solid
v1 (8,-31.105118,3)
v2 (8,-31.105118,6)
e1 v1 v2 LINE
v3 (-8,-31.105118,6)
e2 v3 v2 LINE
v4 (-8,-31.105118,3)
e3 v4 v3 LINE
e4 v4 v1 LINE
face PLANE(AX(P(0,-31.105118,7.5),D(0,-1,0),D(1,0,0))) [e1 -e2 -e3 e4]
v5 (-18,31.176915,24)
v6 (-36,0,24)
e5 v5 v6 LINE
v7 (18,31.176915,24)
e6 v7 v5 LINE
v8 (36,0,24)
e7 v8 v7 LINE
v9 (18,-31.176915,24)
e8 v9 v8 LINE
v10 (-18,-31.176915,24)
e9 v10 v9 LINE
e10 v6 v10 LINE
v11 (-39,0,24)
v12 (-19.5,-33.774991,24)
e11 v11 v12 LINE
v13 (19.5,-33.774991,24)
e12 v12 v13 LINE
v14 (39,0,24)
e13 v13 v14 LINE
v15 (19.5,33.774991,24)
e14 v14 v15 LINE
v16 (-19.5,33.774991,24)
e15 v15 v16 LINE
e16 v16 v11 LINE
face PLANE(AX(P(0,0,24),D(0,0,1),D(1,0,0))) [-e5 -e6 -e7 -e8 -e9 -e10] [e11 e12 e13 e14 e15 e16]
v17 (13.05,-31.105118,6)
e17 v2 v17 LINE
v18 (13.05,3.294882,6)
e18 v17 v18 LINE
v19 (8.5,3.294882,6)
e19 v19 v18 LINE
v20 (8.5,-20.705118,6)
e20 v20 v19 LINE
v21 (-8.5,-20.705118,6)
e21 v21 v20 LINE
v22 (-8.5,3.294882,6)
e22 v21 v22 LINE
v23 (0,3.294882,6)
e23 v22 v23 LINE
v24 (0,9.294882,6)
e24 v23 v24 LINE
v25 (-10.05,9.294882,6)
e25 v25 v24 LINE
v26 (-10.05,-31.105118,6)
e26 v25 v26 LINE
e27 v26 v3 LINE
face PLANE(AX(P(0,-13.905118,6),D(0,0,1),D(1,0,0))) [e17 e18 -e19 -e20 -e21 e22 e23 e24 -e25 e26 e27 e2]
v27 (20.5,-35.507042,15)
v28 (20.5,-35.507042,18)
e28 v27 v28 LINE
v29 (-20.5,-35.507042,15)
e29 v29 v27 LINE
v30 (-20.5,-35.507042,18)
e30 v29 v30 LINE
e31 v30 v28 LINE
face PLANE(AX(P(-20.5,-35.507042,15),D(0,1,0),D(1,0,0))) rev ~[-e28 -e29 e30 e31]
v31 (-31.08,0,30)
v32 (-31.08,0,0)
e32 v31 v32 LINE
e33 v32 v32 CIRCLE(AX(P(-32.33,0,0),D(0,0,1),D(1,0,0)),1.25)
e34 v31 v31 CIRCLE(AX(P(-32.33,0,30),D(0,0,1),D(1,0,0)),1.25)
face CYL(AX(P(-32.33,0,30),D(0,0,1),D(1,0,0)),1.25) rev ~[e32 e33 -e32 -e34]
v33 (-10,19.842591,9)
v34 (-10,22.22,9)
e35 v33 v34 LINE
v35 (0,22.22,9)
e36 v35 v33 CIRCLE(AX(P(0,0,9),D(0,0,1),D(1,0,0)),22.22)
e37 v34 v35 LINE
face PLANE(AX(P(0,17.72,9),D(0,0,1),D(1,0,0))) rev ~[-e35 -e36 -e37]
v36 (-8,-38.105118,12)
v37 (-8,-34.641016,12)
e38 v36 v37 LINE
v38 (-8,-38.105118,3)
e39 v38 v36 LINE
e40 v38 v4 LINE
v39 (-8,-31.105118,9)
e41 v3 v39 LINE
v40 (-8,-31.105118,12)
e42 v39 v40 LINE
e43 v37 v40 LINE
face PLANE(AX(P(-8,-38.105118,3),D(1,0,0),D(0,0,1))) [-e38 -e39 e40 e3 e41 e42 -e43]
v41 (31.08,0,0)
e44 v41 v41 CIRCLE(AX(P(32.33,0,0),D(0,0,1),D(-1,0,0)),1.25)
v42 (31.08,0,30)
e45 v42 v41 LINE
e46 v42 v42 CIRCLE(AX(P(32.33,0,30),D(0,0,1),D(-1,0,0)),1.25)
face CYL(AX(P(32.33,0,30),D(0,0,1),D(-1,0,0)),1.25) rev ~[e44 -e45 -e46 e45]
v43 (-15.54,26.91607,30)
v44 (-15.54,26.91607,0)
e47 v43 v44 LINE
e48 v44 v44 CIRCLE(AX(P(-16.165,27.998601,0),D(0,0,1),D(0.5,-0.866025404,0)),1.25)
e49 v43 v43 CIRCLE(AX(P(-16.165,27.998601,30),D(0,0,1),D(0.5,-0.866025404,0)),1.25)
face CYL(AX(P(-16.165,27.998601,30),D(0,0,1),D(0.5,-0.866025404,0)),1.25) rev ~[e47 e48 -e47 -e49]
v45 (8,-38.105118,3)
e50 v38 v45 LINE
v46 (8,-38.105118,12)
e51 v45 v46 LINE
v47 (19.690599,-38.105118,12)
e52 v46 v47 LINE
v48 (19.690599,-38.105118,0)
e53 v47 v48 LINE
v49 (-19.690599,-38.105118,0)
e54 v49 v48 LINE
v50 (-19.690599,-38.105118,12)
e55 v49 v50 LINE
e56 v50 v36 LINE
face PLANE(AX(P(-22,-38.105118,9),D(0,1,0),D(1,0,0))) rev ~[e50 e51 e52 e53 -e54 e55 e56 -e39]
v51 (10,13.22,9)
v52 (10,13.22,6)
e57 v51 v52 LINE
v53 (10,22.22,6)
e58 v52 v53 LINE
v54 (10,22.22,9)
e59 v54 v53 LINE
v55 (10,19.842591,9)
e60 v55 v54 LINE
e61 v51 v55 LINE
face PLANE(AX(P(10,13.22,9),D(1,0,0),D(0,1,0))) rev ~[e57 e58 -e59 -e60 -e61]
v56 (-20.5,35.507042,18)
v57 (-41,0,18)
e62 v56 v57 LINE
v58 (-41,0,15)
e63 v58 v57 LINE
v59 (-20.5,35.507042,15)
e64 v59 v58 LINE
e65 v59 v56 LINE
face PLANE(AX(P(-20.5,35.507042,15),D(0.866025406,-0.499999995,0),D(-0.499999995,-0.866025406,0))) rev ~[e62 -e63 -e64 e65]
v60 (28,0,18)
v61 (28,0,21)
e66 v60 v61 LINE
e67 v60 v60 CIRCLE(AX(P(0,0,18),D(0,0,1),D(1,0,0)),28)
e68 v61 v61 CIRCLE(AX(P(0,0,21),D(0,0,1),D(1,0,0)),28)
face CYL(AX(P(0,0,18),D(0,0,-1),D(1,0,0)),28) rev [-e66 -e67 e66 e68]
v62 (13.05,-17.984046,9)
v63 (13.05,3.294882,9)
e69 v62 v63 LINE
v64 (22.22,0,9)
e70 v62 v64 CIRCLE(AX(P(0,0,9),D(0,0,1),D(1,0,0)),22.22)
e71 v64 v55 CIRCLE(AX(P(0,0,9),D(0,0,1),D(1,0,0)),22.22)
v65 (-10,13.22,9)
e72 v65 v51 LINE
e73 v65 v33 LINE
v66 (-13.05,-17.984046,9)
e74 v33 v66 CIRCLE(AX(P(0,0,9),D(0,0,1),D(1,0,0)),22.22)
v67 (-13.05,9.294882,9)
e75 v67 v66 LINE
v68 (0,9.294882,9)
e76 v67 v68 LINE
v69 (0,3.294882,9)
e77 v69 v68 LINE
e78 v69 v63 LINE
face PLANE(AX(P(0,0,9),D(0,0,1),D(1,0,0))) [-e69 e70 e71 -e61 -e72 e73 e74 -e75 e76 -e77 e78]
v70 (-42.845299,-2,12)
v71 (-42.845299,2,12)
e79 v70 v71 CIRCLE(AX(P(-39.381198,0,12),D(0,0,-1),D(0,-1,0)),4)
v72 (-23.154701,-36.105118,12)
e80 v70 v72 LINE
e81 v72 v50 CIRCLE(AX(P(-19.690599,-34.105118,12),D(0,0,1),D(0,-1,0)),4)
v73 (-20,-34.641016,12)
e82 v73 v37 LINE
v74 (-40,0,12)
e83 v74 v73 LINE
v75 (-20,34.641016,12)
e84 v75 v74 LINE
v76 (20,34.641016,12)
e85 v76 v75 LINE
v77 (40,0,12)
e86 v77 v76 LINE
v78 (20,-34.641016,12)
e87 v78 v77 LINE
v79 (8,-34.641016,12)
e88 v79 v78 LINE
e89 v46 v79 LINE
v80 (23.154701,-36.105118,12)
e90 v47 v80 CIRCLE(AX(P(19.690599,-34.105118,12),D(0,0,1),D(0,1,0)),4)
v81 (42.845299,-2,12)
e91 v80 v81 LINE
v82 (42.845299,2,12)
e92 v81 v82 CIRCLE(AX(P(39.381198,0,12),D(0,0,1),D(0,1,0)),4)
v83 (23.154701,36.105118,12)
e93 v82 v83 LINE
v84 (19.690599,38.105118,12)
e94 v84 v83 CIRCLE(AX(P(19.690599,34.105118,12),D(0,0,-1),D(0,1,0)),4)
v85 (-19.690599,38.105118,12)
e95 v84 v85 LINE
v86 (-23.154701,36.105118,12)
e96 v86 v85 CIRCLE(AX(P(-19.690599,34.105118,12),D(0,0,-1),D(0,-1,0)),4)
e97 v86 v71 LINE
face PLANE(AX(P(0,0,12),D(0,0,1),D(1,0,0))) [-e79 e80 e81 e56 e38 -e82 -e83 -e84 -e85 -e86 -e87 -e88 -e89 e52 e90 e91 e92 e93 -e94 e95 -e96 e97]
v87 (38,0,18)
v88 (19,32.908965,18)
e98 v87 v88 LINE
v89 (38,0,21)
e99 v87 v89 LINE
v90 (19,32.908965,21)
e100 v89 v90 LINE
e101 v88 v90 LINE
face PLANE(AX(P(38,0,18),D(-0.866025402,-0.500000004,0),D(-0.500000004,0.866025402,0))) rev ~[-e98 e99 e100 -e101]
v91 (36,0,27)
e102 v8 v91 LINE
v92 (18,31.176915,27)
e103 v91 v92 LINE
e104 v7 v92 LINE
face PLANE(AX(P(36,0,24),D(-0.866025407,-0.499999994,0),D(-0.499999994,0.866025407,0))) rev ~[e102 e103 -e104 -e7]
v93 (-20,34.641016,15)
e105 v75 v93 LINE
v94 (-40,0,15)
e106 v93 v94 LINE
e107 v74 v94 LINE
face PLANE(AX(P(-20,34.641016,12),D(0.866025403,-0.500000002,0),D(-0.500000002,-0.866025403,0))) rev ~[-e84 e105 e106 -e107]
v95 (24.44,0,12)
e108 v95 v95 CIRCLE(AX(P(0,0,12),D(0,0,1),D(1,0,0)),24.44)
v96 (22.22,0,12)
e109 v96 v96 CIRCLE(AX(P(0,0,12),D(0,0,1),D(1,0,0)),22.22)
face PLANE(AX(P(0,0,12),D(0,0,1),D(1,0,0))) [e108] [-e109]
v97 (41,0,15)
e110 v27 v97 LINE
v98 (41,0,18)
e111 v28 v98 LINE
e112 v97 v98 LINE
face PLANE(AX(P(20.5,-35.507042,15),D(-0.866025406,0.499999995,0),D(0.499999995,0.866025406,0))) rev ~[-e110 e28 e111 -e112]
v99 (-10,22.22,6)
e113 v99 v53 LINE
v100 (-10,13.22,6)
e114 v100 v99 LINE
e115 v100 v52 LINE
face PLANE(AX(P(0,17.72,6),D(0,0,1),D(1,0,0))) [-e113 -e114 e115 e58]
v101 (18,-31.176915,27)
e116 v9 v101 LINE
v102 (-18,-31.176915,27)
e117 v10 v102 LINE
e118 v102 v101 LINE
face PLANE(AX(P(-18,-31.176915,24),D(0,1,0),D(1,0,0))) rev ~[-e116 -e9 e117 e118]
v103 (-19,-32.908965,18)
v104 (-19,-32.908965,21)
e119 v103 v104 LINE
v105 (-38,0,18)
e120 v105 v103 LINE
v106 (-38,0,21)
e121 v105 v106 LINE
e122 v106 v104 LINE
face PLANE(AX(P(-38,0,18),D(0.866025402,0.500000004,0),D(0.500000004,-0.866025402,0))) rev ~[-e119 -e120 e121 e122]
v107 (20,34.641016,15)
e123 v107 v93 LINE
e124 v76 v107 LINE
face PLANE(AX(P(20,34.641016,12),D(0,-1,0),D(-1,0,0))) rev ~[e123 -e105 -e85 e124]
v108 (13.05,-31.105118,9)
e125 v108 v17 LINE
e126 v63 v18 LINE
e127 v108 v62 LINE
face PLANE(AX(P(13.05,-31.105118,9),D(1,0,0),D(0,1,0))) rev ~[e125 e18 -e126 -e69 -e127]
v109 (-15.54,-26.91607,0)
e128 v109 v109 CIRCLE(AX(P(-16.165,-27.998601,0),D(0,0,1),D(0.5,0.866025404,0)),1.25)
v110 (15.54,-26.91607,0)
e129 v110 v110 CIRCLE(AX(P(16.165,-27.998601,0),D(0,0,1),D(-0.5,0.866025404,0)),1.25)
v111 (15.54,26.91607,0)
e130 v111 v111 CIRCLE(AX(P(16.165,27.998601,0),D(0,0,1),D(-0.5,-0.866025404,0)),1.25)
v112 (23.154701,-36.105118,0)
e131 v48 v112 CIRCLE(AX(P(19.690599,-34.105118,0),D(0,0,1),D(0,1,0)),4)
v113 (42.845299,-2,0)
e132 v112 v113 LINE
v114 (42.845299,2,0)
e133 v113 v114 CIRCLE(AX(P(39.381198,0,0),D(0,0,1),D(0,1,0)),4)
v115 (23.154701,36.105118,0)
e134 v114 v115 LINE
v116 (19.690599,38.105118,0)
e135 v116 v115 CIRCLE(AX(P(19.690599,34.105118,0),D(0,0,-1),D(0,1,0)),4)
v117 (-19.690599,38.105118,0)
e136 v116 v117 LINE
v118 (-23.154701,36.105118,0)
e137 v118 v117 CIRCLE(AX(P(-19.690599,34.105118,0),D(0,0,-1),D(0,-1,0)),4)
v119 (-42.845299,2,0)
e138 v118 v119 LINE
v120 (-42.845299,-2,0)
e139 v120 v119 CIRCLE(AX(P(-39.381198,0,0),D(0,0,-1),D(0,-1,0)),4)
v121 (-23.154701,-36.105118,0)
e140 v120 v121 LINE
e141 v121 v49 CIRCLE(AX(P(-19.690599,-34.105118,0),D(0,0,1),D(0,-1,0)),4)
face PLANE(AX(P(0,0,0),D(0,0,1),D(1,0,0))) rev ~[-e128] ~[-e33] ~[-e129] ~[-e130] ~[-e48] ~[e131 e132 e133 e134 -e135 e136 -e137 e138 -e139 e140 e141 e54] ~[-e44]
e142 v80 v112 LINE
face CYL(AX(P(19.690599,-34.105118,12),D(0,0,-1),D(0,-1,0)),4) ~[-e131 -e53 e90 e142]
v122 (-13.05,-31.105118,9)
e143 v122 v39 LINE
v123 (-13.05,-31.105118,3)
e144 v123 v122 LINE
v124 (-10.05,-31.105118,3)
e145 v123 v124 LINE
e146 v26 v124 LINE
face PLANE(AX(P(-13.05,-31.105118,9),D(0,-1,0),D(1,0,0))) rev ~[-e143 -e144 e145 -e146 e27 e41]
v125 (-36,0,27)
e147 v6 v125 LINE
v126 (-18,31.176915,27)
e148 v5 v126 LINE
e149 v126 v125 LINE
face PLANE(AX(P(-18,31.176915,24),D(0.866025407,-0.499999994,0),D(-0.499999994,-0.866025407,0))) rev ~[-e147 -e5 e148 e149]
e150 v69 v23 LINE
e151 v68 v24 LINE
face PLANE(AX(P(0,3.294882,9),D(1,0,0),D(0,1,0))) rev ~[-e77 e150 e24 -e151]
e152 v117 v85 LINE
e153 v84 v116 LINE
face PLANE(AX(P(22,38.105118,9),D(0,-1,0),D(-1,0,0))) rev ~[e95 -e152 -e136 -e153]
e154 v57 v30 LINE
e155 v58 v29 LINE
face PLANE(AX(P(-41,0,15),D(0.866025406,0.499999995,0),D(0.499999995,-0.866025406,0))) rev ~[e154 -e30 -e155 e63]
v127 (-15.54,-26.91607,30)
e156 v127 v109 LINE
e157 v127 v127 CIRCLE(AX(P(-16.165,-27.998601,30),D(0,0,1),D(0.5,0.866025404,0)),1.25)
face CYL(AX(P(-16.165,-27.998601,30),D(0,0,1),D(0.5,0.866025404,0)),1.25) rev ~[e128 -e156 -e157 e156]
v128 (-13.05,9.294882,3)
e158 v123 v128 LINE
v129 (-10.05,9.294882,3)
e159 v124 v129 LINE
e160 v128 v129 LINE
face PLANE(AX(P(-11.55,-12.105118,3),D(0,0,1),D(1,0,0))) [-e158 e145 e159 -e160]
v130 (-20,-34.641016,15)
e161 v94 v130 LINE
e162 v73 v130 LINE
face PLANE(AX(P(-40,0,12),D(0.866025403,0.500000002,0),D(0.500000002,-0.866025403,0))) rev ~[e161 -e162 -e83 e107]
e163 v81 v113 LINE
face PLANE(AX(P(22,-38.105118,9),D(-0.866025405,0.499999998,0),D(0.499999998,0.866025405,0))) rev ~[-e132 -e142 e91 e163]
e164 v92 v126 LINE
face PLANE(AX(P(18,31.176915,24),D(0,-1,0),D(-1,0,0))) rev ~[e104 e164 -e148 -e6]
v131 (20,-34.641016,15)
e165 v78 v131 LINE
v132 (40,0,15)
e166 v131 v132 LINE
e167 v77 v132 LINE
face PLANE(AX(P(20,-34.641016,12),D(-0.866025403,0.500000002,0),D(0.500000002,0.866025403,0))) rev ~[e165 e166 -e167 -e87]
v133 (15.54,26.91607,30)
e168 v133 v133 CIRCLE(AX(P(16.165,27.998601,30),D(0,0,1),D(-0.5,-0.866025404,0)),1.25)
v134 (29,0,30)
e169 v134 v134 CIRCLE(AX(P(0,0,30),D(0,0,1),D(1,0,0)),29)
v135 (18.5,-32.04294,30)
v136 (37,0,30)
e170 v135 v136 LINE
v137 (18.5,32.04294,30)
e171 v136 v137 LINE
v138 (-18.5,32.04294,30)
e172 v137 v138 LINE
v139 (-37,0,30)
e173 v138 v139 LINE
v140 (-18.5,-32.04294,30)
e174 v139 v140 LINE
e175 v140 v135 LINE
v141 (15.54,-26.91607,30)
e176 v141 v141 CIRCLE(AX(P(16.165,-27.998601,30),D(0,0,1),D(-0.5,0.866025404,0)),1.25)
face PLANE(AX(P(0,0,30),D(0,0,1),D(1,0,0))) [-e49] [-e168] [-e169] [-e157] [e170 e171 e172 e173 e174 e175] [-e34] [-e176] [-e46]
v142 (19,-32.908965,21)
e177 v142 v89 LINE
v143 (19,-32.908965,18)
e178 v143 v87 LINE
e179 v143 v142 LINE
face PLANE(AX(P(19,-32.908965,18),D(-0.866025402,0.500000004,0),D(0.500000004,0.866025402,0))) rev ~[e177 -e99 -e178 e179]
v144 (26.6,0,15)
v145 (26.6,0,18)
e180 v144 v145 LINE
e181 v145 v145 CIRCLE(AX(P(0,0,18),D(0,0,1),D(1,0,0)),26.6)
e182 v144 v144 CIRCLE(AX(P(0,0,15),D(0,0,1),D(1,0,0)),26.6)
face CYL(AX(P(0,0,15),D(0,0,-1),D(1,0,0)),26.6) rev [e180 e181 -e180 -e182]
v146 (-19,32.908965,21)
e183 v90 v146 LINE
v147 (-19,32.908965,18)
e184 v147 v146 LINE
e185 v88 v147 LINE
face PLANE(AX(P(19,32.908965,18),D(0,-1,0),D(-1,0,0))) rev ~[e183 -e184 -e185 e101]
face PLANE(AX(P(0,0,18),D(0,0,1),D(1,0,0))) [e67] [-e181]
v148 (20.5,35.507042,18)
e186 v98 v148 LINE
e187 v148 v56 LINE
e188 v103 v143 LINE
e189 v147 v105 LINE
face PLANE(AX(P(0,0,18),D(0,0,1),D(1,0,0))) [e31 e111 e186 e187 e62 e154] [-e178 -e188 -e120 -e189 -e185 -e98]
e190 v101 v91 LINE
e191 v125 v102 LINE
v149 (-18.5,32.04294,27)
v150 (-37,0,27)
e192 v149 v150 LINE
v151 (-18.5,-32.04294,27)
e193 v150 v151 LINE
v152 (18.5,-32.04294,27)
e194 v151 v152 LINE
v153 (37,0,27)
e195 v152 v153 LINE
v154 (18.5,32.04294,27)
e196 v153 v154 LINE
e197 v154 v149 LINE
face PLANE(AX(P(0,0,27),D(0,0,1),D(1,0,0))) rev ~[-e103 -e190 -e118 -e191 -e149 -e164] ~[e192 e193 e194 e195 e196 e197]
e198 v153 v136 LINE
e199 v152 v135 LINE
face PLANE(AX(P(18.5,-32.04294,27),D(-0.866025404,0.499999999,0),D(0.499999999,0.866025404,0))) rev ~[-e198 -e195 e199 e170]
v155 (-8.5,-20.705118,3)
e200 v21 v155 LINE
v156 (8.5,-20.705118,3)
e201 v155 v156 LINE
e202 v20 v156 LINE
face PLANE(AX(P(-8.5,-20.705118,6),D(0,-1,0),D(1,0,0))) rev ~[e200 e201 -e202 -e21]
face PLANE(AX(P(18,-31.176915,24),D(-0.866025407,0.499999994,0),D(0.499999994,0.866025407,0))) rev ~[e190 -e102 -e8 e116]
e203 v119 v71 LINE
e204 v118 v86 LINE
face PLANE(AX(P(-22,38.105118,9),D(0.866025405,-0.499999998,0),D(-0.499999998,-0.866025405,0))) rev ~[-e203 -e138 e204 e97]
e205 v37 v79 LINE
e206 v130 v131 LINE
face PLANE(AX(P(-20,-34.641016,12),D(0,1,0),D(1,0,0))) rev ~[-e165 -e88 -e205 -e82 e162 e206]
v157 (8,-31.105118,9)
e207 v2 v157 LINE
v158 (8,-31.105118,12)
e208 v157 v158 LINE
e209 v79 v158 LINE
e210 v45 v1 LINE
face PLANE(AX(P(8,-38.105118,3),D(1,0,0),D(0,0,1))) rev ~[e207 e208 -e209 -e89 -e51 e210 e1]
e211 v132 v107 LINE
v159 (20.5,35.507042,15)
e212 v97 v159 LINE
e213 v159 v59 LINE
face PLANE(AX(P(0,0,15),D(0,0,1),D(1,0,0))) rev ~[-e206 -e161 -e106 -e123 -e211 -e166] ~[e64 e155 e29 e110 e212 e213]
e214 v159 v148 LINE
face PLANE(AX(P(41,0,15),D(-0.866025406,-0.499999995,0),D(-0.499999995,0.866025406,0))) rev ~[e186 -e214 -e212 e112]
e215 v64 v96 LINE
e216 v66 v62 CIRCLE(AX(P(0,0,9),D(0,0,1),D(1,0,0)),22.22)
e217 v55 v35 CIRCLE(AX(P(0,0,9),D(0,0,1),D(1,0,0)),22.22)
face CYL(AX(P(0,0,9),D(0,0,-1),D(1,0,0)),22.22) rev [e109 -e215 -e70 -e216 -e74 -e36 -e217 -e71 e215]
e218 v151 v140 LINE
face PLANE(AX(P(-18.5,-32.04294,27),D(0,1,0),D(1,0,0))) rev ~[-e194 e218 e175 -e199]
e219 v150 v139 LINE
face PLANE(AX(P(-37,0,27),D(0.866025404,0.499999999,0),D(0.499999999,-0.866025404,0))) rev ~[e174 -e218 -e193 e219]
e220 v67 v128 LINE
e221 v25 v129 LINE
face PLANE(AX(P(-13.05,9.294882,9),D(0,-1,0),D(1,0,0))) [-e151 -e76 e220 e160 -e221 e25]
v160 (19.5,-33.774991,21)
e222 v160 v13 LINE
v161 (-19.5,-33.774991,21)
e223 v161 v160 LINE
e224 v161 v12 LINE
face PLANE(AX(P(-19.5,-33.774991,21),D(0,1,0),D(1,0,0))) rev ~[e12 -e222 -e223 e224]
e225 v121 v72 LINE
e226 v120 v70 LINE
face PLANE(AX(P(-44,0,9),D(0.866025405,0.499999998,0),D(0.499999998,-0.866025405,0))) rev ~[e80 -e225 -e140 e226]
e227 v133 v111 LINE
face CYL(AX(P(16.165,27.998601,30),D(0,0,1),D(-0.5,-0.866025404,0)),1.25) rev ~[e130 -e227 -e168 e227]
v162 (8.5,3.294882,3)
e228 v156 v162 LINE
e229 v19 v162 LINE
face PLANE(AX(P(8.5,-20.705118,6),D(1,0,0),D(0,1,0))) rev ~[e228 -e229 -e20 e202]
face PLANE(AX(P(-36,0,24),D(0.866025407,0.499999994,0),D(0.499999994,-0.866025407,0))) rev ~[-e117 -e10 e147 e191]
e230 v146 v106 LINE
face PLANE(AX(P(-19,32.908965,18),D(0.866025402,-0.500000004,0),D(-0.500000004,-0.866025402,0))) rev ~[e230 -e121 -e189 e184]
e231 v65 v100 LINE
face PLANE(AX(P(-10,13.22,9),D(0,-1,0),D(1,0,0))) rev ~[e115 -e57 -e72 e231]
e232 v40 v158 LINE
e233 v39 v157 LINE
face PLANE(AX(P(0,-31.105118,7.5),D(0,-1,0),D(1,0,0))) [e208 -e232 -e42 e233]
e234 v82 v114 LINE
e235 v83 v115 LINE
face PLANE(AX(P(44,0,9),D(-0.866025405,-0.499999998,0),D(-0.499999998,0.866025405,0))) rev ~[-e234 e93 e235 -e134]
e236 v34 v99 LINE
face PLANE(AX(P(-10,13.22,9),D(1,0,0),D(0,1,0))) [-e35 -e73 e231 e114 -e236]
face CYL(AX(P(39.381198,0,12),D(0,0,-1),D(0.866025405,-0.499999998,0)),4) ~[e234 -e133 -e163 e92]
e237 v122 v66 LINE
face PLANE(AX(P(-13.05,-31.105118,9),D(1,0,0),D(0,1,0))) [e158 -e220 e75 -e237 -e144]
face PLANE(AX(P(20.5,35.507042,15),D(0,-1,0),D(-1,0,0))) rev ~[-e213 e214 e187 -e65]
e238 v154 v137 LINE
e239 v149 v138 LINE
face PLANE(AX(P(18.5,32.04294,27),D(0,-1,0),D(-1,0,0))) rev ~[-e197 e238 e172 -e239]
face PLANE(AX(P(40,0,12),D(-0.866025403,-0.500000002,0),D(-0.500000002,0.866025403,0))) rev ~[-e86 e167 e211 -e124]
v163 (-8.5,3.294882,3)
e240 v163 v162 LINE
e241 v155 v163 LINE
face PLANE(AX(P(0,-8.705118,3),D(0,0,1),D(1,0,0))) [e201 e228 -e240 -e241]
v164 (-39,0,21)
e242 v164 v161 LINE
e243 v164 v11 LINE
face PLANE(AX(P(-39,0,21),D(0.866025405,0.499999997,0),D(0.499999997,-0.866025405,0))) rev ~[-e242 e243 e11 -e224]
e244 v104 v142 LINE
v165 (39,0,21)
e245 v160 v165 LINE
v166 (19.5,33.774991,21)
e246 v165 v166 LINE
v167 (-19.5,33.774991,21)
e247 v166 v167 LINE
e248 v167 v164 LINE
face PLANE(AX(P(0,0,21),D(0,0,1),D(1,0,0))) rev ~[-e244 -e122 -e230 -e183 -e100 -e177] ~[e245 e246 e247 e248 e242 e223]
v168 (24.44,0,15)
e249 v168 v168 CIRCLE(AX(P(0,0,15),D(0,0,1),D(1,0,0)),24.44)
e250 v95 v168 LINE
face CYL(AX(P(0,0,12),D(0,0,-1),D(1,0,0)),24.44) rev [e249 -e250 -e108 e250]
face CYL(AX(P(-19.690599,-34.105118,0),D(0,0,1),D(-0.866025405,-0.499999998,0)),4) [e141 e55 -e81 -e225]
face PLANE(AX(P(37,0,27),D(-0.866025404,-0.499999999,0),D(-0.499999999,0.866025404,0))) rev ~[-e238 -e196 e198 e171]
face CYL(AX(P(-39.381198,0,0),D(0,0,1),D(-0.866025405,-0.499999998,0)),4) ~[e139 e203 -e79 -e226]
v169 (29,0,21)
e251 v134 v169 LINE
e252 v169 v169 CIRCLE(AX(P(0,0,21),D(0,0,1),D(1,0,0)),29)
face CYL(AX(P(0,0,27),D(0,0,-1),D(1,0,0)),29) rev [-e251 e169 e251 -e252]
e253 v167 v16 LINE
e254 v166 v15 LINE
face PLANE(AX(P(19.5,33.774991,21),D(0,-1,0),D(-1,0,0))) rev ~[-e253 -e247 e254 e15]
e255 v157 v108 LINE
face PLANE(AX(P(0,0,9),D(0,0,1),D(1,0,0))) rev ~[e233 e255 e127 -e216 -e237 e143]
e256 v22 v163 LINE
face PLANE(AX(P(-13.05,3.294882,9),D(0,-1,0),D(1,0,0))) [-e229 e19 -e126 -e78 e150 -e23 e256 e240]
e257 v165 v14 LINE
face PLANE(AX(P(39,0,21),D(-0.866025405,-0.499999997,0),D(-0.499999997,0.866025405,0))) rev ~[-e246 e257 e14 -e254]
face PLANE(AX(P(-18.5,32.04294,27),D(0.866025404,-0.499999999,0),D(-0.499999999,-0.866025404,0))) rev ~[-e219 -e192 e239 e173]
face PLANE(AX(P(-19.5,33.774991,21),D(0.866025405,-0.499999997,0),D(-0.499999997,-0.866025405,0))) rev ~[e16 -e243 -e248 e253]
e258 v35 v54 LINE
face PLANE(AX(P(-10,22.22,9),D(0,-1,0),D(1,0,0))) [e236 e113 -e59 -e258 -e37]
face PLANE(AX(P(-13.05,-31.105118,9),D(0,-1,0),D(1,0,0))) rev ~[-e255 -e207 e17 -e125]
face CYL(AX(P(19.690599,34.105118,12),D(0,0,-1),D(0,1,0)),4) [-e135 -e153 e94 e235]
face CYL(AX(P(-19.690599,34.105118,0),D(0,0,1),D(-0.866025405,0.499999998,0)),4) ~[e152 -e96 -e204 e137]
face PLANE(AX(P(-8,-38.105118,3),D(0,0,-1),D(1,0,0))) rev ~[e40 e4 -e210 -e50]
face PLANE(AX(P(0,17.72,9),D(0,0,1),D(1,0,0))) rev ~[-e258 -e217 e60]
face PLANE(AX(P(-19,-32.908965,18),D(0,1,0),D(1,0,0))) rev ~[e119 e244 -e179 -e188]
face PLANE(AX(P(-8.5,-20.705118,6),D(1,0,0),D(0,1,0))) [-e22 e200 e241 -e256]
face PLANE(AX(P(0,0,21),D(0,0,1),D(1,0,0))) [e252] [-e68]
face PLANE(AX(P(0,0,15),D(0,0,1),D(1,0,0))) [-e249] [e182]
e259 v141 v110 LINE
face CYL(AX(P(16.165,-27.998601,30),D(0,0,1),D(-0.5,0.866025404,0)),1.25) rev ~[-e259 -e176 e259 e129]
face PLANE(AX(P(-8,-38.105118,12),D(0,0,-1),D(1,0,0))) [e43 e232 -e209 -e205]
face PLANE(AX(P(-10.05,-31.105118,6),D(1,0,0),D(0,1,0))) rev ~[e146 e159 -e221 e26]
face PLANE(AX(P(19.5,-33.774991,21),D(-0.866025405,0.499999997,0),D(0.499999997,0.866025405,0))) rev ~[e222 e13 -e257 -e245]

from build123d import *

# Parameters (mm, degrees)
PAD_DEPTH          = 9
SKETCH001_W        = 26.1
SKETCH001_H        = 34.4
POCKET_DEPTH       = 3
SKETCH002_R        = 22.22
PAD001_DEPTH       = 3
SKETCH003_R        = 24.44
PAD002_DEPTH       = 3
SKETCH004_R        = 26.6
PAD003_DEPTH       = 3
SKETCH005_R        = 28
PAD004_DEPTH       = 3
SKETCH006_R        = 29
PAD005_DEPTH       = 3
SKETCH007_R        = 29
PAD006_DEPTH       = 3
SKETCH008_R        = 29
PAD007_DEPTH       = 3
SKETCH009_W        = 17
SKETCH009_H        = 24
POCKET001_DEPTH    = 3
SKETCH010_W        = 16
SKETCH010_H        = 9
POCKET002_DEPTH    = 7
SKETCH011_W        = 20
SKETCH011_H        = 9
POCKET003_DEPTH    = 3
SKETCH012_R        = 1.25
POCKET004_DEPTH    = 270.433943
POLARPATTERN_COUNT = 6
SKETCH013_W        = 3
SKETCH013_H        = 38
POCKET005_DEPTH    = 3
SKETCH014_W        = 3
SKETCH014_H        = 6
POCKET006_DEPTH    = 6
SKETCH015_W        = 10.05
SKETCH015_H        = 6
POCKET007_DEPTH    = 3
FILLET_R           = 4


with BuildPart() as part:
    # Sketch → Pad (new body)
    with BuildSketch(Plane.XY):
        Polygon((44, 0), (22, 38.105118), (-22, 38.105118), (-44, 0), (-22, -38.105118), (22, -38.105118), align=None)
    extrude(amount=PAD_DEPTH)

    # Sketch001 (on Face8 of Pad) → Pocket (cut)
    with BuildSketch(Plane.XY.offset(9)):
        with Locations((0, -13.905118)):
            Rectangle(SKETCH001_W, SKETCH001_H)
    extrude(amount=-POCKET_DEPTH, mode=Mode.SUBTRACT)

    # Sketch002 (on Face5 of Pocket) → Pad001 (join)
    with BuildSketch(Plane.XY.offset(9)):
        Polygon((22, 38.105118), (-22, 38.105118), (-44, 0), (-22, -38.105118), (22, -38.105118), (44, 0), align=None)
        Circle(SKETCH002_R, mode=Mode.SUBTRACT)
    extrude(amount=PAD001_DEPTH)

    # Sketch003 (on Face14 of Pad001) → Pad002 (join)
    with BuildSketch(Plane.XY.offset(12)):
        Polygon((40, 0), (20, 34.641016), (-20, 34.641016), (-40, 0), (-20, -34.641016), (20, -34.641016), align=None)
        Circle(SKETCH003_R, mode=Mode.SUBTRACT)
    extrude(amount=PAD002_DEPTH)

    # Sketch004 (on Face21 of Pad002) → Pad003 (join)
    with BuildSketch(Plane.XY.offset(15)):
        Polygon((41, 0), (20.5, 35.507042), (-20.5, 35.507042), (-41, 0), (-20.5, -35.507042), (20.5, -35.507042), align=None)
        Circle(SKETCH004_R, mode=Mode.SUBTRACT)
    extrude(amount=PAD003_DEPTH)

    # Sketch005 (on Face28 of Pad003) → Pad004 (join)
    with BuildSketch(Plane.XY.offset(18)):
        Polygon((19, 32.908965), (-19, 32.908965), (-38, 0), (-19, -32.908965), (19, -32.908965), (38, 0), align=None)
        Circle(SKETCH005_R, mode=Mode.SUBTRACT)
    extrude(amount=PAD004_DEPTH)

    # Sketch006 (on Face35 of Pad004) → Pad005 (join)
    with BuildSketch(Plane.XY.offset(21)):
        Polygon((39, 0), (19.5, 33.774991), (-19.5, 33.774991), (-39, 0), (-19.5, -33.774991), (19.5, -33.774991), align=None)
        Circle(SKETCH006_R, mode=Mode.SUBTRACT)
    extrude(amount=PAD005_DEPTH)

    # Sketch007 (on Face42 of Pad005) → Pad006 (join)
    with BuildSketch(Plane.XY.offset(24)):
        Polygon((36, 0), (18, 31.176915), (-18, 31.176915), (-36, 0), (-18, -31.176915), (18, -31.176915), align=None)
        Circle(SKETCH007_R, mode=Mode.SUBTRACT)
    extrude(amount=PAD006_DEPTH)

    # Sketch008 (on Face49 of Pad006) → Pad007 (join)
    with BuildSketch(Plane.XY.offset(27)):
        Polygon((37, 0), (18.5, 32.04294), (-18.5, 32.04294), (-37, 0), (-18.5, -32.04294), (18.5, -32.04294), align=None)
        Circle(SKETCH008_R, mode=Mode.SUBTRACT)
    extrude(amount=PAD007_DEPTH)

    # Sketch009 (on Face74 of Pad007) → Pocket001 (cut)
    with BuildSketch(Plane.XY.offset(6)):
        with Locations((0, -8.705118)):
            Rectangle(SKETCH009_W, SKETCH009_H)
    extrude(amount=-POCKET001_DEPTH, mode=Mode.SUBTRACT)

    # Sketch010 (on Face12 of Pocket001) → Pocket002 (cut)
    with BuildSketch(Plane.XZ.offset(38.105118)):
        with Locations((0, 7.5)):
            Rectangle(SKETCH010_W, SKETCH010_H)
    extrude(amount=-POCKET002_DEPTH, mode=Mode.SUBTRACT)

    # Sketch011 (on Face40 of Pocket002) → Pocket003 (cut)
    with BuildSketch(Plane.XY.offset(9)):
        with Locations((0, 17.72)):
            Rectangle(SKETCH011_W, SKETCH011_H)
    extrude(amount=-POCKET003_DEPTH, mode=Mode.SUBTRACT)

    # Sketch012 (on Face93 of Pocket003) → Pocket004 (cut, through all)
    with BuildSketch(Plane.XY.offset(30)):
        with Locations((-32.33, 0)):
            Circle(SKETCH012_R)
    pocket004 = extrude(amount=-POCKET004_DEPTH, mode=Mode.SUBTRACT)

    # PolarPattern: Pocket004 ×6 about axis
    polarpattern_axis = Axis((0, 0, 30), (0, 0, 1))
    for i in range(1, POLARPATTERN_COUNT):
        add(pocket004.rotate(polarpattern_axis, i * 360 / POLARPATTERN_COUNT), mode=Mode.SUBTRACT)

    # Sketch013 (on Face45 of PolarPattern) → Pocket005 (cut)
    with BuildSketch(Plane.XY.offset(6)):
        with Locations((-11.55, -12.105118)):
            Rectangle(SKETCH013_W, SKETCH013_H)
    extrude(amount=-POCKET005_DEPTH, mode=Mode.SUBTRACT)

    # Sketch014 (on Face58 of Pocket005) → Pocket006 (cut)
    with BuildSketch(Plane.XY.offset(9)):
        with Locations((-11.55, 6.294882)):
            Rectangle(SKETCH014_W, SKETCH014_H)
    extrude(amount=-POCKET006_DEPTH, mode=Mode.SUBTRACT)

    # Sketch015 (on Face58 of Pocket006) → Pocket007 (cut)
    with BuildSketch(Plane.XY.offset(9)):
        with Locations((-5.025, 6.294882)):
            Rectangle(SKETCH015_W, SKETCH015_H)
    extrude(amount=-POCKET007_DEPTH, mode=Mode.SUBTRACT)

    # Fillet
    fillet_edges = [part.edges().sort_by_distance(p)[0] for p in [
        (22, -38.105118, 4.5),
        (44, 0, 4.5),
        (22, 38.105118, 4.5),
        (-22, 38.105118, 4.5),
        (-44, 0, 4.5),
        (-22, -38.105118, 4.5),
    ]]
    fillet(fillet_edges, radius=FILLET_R)


solid = part.part
